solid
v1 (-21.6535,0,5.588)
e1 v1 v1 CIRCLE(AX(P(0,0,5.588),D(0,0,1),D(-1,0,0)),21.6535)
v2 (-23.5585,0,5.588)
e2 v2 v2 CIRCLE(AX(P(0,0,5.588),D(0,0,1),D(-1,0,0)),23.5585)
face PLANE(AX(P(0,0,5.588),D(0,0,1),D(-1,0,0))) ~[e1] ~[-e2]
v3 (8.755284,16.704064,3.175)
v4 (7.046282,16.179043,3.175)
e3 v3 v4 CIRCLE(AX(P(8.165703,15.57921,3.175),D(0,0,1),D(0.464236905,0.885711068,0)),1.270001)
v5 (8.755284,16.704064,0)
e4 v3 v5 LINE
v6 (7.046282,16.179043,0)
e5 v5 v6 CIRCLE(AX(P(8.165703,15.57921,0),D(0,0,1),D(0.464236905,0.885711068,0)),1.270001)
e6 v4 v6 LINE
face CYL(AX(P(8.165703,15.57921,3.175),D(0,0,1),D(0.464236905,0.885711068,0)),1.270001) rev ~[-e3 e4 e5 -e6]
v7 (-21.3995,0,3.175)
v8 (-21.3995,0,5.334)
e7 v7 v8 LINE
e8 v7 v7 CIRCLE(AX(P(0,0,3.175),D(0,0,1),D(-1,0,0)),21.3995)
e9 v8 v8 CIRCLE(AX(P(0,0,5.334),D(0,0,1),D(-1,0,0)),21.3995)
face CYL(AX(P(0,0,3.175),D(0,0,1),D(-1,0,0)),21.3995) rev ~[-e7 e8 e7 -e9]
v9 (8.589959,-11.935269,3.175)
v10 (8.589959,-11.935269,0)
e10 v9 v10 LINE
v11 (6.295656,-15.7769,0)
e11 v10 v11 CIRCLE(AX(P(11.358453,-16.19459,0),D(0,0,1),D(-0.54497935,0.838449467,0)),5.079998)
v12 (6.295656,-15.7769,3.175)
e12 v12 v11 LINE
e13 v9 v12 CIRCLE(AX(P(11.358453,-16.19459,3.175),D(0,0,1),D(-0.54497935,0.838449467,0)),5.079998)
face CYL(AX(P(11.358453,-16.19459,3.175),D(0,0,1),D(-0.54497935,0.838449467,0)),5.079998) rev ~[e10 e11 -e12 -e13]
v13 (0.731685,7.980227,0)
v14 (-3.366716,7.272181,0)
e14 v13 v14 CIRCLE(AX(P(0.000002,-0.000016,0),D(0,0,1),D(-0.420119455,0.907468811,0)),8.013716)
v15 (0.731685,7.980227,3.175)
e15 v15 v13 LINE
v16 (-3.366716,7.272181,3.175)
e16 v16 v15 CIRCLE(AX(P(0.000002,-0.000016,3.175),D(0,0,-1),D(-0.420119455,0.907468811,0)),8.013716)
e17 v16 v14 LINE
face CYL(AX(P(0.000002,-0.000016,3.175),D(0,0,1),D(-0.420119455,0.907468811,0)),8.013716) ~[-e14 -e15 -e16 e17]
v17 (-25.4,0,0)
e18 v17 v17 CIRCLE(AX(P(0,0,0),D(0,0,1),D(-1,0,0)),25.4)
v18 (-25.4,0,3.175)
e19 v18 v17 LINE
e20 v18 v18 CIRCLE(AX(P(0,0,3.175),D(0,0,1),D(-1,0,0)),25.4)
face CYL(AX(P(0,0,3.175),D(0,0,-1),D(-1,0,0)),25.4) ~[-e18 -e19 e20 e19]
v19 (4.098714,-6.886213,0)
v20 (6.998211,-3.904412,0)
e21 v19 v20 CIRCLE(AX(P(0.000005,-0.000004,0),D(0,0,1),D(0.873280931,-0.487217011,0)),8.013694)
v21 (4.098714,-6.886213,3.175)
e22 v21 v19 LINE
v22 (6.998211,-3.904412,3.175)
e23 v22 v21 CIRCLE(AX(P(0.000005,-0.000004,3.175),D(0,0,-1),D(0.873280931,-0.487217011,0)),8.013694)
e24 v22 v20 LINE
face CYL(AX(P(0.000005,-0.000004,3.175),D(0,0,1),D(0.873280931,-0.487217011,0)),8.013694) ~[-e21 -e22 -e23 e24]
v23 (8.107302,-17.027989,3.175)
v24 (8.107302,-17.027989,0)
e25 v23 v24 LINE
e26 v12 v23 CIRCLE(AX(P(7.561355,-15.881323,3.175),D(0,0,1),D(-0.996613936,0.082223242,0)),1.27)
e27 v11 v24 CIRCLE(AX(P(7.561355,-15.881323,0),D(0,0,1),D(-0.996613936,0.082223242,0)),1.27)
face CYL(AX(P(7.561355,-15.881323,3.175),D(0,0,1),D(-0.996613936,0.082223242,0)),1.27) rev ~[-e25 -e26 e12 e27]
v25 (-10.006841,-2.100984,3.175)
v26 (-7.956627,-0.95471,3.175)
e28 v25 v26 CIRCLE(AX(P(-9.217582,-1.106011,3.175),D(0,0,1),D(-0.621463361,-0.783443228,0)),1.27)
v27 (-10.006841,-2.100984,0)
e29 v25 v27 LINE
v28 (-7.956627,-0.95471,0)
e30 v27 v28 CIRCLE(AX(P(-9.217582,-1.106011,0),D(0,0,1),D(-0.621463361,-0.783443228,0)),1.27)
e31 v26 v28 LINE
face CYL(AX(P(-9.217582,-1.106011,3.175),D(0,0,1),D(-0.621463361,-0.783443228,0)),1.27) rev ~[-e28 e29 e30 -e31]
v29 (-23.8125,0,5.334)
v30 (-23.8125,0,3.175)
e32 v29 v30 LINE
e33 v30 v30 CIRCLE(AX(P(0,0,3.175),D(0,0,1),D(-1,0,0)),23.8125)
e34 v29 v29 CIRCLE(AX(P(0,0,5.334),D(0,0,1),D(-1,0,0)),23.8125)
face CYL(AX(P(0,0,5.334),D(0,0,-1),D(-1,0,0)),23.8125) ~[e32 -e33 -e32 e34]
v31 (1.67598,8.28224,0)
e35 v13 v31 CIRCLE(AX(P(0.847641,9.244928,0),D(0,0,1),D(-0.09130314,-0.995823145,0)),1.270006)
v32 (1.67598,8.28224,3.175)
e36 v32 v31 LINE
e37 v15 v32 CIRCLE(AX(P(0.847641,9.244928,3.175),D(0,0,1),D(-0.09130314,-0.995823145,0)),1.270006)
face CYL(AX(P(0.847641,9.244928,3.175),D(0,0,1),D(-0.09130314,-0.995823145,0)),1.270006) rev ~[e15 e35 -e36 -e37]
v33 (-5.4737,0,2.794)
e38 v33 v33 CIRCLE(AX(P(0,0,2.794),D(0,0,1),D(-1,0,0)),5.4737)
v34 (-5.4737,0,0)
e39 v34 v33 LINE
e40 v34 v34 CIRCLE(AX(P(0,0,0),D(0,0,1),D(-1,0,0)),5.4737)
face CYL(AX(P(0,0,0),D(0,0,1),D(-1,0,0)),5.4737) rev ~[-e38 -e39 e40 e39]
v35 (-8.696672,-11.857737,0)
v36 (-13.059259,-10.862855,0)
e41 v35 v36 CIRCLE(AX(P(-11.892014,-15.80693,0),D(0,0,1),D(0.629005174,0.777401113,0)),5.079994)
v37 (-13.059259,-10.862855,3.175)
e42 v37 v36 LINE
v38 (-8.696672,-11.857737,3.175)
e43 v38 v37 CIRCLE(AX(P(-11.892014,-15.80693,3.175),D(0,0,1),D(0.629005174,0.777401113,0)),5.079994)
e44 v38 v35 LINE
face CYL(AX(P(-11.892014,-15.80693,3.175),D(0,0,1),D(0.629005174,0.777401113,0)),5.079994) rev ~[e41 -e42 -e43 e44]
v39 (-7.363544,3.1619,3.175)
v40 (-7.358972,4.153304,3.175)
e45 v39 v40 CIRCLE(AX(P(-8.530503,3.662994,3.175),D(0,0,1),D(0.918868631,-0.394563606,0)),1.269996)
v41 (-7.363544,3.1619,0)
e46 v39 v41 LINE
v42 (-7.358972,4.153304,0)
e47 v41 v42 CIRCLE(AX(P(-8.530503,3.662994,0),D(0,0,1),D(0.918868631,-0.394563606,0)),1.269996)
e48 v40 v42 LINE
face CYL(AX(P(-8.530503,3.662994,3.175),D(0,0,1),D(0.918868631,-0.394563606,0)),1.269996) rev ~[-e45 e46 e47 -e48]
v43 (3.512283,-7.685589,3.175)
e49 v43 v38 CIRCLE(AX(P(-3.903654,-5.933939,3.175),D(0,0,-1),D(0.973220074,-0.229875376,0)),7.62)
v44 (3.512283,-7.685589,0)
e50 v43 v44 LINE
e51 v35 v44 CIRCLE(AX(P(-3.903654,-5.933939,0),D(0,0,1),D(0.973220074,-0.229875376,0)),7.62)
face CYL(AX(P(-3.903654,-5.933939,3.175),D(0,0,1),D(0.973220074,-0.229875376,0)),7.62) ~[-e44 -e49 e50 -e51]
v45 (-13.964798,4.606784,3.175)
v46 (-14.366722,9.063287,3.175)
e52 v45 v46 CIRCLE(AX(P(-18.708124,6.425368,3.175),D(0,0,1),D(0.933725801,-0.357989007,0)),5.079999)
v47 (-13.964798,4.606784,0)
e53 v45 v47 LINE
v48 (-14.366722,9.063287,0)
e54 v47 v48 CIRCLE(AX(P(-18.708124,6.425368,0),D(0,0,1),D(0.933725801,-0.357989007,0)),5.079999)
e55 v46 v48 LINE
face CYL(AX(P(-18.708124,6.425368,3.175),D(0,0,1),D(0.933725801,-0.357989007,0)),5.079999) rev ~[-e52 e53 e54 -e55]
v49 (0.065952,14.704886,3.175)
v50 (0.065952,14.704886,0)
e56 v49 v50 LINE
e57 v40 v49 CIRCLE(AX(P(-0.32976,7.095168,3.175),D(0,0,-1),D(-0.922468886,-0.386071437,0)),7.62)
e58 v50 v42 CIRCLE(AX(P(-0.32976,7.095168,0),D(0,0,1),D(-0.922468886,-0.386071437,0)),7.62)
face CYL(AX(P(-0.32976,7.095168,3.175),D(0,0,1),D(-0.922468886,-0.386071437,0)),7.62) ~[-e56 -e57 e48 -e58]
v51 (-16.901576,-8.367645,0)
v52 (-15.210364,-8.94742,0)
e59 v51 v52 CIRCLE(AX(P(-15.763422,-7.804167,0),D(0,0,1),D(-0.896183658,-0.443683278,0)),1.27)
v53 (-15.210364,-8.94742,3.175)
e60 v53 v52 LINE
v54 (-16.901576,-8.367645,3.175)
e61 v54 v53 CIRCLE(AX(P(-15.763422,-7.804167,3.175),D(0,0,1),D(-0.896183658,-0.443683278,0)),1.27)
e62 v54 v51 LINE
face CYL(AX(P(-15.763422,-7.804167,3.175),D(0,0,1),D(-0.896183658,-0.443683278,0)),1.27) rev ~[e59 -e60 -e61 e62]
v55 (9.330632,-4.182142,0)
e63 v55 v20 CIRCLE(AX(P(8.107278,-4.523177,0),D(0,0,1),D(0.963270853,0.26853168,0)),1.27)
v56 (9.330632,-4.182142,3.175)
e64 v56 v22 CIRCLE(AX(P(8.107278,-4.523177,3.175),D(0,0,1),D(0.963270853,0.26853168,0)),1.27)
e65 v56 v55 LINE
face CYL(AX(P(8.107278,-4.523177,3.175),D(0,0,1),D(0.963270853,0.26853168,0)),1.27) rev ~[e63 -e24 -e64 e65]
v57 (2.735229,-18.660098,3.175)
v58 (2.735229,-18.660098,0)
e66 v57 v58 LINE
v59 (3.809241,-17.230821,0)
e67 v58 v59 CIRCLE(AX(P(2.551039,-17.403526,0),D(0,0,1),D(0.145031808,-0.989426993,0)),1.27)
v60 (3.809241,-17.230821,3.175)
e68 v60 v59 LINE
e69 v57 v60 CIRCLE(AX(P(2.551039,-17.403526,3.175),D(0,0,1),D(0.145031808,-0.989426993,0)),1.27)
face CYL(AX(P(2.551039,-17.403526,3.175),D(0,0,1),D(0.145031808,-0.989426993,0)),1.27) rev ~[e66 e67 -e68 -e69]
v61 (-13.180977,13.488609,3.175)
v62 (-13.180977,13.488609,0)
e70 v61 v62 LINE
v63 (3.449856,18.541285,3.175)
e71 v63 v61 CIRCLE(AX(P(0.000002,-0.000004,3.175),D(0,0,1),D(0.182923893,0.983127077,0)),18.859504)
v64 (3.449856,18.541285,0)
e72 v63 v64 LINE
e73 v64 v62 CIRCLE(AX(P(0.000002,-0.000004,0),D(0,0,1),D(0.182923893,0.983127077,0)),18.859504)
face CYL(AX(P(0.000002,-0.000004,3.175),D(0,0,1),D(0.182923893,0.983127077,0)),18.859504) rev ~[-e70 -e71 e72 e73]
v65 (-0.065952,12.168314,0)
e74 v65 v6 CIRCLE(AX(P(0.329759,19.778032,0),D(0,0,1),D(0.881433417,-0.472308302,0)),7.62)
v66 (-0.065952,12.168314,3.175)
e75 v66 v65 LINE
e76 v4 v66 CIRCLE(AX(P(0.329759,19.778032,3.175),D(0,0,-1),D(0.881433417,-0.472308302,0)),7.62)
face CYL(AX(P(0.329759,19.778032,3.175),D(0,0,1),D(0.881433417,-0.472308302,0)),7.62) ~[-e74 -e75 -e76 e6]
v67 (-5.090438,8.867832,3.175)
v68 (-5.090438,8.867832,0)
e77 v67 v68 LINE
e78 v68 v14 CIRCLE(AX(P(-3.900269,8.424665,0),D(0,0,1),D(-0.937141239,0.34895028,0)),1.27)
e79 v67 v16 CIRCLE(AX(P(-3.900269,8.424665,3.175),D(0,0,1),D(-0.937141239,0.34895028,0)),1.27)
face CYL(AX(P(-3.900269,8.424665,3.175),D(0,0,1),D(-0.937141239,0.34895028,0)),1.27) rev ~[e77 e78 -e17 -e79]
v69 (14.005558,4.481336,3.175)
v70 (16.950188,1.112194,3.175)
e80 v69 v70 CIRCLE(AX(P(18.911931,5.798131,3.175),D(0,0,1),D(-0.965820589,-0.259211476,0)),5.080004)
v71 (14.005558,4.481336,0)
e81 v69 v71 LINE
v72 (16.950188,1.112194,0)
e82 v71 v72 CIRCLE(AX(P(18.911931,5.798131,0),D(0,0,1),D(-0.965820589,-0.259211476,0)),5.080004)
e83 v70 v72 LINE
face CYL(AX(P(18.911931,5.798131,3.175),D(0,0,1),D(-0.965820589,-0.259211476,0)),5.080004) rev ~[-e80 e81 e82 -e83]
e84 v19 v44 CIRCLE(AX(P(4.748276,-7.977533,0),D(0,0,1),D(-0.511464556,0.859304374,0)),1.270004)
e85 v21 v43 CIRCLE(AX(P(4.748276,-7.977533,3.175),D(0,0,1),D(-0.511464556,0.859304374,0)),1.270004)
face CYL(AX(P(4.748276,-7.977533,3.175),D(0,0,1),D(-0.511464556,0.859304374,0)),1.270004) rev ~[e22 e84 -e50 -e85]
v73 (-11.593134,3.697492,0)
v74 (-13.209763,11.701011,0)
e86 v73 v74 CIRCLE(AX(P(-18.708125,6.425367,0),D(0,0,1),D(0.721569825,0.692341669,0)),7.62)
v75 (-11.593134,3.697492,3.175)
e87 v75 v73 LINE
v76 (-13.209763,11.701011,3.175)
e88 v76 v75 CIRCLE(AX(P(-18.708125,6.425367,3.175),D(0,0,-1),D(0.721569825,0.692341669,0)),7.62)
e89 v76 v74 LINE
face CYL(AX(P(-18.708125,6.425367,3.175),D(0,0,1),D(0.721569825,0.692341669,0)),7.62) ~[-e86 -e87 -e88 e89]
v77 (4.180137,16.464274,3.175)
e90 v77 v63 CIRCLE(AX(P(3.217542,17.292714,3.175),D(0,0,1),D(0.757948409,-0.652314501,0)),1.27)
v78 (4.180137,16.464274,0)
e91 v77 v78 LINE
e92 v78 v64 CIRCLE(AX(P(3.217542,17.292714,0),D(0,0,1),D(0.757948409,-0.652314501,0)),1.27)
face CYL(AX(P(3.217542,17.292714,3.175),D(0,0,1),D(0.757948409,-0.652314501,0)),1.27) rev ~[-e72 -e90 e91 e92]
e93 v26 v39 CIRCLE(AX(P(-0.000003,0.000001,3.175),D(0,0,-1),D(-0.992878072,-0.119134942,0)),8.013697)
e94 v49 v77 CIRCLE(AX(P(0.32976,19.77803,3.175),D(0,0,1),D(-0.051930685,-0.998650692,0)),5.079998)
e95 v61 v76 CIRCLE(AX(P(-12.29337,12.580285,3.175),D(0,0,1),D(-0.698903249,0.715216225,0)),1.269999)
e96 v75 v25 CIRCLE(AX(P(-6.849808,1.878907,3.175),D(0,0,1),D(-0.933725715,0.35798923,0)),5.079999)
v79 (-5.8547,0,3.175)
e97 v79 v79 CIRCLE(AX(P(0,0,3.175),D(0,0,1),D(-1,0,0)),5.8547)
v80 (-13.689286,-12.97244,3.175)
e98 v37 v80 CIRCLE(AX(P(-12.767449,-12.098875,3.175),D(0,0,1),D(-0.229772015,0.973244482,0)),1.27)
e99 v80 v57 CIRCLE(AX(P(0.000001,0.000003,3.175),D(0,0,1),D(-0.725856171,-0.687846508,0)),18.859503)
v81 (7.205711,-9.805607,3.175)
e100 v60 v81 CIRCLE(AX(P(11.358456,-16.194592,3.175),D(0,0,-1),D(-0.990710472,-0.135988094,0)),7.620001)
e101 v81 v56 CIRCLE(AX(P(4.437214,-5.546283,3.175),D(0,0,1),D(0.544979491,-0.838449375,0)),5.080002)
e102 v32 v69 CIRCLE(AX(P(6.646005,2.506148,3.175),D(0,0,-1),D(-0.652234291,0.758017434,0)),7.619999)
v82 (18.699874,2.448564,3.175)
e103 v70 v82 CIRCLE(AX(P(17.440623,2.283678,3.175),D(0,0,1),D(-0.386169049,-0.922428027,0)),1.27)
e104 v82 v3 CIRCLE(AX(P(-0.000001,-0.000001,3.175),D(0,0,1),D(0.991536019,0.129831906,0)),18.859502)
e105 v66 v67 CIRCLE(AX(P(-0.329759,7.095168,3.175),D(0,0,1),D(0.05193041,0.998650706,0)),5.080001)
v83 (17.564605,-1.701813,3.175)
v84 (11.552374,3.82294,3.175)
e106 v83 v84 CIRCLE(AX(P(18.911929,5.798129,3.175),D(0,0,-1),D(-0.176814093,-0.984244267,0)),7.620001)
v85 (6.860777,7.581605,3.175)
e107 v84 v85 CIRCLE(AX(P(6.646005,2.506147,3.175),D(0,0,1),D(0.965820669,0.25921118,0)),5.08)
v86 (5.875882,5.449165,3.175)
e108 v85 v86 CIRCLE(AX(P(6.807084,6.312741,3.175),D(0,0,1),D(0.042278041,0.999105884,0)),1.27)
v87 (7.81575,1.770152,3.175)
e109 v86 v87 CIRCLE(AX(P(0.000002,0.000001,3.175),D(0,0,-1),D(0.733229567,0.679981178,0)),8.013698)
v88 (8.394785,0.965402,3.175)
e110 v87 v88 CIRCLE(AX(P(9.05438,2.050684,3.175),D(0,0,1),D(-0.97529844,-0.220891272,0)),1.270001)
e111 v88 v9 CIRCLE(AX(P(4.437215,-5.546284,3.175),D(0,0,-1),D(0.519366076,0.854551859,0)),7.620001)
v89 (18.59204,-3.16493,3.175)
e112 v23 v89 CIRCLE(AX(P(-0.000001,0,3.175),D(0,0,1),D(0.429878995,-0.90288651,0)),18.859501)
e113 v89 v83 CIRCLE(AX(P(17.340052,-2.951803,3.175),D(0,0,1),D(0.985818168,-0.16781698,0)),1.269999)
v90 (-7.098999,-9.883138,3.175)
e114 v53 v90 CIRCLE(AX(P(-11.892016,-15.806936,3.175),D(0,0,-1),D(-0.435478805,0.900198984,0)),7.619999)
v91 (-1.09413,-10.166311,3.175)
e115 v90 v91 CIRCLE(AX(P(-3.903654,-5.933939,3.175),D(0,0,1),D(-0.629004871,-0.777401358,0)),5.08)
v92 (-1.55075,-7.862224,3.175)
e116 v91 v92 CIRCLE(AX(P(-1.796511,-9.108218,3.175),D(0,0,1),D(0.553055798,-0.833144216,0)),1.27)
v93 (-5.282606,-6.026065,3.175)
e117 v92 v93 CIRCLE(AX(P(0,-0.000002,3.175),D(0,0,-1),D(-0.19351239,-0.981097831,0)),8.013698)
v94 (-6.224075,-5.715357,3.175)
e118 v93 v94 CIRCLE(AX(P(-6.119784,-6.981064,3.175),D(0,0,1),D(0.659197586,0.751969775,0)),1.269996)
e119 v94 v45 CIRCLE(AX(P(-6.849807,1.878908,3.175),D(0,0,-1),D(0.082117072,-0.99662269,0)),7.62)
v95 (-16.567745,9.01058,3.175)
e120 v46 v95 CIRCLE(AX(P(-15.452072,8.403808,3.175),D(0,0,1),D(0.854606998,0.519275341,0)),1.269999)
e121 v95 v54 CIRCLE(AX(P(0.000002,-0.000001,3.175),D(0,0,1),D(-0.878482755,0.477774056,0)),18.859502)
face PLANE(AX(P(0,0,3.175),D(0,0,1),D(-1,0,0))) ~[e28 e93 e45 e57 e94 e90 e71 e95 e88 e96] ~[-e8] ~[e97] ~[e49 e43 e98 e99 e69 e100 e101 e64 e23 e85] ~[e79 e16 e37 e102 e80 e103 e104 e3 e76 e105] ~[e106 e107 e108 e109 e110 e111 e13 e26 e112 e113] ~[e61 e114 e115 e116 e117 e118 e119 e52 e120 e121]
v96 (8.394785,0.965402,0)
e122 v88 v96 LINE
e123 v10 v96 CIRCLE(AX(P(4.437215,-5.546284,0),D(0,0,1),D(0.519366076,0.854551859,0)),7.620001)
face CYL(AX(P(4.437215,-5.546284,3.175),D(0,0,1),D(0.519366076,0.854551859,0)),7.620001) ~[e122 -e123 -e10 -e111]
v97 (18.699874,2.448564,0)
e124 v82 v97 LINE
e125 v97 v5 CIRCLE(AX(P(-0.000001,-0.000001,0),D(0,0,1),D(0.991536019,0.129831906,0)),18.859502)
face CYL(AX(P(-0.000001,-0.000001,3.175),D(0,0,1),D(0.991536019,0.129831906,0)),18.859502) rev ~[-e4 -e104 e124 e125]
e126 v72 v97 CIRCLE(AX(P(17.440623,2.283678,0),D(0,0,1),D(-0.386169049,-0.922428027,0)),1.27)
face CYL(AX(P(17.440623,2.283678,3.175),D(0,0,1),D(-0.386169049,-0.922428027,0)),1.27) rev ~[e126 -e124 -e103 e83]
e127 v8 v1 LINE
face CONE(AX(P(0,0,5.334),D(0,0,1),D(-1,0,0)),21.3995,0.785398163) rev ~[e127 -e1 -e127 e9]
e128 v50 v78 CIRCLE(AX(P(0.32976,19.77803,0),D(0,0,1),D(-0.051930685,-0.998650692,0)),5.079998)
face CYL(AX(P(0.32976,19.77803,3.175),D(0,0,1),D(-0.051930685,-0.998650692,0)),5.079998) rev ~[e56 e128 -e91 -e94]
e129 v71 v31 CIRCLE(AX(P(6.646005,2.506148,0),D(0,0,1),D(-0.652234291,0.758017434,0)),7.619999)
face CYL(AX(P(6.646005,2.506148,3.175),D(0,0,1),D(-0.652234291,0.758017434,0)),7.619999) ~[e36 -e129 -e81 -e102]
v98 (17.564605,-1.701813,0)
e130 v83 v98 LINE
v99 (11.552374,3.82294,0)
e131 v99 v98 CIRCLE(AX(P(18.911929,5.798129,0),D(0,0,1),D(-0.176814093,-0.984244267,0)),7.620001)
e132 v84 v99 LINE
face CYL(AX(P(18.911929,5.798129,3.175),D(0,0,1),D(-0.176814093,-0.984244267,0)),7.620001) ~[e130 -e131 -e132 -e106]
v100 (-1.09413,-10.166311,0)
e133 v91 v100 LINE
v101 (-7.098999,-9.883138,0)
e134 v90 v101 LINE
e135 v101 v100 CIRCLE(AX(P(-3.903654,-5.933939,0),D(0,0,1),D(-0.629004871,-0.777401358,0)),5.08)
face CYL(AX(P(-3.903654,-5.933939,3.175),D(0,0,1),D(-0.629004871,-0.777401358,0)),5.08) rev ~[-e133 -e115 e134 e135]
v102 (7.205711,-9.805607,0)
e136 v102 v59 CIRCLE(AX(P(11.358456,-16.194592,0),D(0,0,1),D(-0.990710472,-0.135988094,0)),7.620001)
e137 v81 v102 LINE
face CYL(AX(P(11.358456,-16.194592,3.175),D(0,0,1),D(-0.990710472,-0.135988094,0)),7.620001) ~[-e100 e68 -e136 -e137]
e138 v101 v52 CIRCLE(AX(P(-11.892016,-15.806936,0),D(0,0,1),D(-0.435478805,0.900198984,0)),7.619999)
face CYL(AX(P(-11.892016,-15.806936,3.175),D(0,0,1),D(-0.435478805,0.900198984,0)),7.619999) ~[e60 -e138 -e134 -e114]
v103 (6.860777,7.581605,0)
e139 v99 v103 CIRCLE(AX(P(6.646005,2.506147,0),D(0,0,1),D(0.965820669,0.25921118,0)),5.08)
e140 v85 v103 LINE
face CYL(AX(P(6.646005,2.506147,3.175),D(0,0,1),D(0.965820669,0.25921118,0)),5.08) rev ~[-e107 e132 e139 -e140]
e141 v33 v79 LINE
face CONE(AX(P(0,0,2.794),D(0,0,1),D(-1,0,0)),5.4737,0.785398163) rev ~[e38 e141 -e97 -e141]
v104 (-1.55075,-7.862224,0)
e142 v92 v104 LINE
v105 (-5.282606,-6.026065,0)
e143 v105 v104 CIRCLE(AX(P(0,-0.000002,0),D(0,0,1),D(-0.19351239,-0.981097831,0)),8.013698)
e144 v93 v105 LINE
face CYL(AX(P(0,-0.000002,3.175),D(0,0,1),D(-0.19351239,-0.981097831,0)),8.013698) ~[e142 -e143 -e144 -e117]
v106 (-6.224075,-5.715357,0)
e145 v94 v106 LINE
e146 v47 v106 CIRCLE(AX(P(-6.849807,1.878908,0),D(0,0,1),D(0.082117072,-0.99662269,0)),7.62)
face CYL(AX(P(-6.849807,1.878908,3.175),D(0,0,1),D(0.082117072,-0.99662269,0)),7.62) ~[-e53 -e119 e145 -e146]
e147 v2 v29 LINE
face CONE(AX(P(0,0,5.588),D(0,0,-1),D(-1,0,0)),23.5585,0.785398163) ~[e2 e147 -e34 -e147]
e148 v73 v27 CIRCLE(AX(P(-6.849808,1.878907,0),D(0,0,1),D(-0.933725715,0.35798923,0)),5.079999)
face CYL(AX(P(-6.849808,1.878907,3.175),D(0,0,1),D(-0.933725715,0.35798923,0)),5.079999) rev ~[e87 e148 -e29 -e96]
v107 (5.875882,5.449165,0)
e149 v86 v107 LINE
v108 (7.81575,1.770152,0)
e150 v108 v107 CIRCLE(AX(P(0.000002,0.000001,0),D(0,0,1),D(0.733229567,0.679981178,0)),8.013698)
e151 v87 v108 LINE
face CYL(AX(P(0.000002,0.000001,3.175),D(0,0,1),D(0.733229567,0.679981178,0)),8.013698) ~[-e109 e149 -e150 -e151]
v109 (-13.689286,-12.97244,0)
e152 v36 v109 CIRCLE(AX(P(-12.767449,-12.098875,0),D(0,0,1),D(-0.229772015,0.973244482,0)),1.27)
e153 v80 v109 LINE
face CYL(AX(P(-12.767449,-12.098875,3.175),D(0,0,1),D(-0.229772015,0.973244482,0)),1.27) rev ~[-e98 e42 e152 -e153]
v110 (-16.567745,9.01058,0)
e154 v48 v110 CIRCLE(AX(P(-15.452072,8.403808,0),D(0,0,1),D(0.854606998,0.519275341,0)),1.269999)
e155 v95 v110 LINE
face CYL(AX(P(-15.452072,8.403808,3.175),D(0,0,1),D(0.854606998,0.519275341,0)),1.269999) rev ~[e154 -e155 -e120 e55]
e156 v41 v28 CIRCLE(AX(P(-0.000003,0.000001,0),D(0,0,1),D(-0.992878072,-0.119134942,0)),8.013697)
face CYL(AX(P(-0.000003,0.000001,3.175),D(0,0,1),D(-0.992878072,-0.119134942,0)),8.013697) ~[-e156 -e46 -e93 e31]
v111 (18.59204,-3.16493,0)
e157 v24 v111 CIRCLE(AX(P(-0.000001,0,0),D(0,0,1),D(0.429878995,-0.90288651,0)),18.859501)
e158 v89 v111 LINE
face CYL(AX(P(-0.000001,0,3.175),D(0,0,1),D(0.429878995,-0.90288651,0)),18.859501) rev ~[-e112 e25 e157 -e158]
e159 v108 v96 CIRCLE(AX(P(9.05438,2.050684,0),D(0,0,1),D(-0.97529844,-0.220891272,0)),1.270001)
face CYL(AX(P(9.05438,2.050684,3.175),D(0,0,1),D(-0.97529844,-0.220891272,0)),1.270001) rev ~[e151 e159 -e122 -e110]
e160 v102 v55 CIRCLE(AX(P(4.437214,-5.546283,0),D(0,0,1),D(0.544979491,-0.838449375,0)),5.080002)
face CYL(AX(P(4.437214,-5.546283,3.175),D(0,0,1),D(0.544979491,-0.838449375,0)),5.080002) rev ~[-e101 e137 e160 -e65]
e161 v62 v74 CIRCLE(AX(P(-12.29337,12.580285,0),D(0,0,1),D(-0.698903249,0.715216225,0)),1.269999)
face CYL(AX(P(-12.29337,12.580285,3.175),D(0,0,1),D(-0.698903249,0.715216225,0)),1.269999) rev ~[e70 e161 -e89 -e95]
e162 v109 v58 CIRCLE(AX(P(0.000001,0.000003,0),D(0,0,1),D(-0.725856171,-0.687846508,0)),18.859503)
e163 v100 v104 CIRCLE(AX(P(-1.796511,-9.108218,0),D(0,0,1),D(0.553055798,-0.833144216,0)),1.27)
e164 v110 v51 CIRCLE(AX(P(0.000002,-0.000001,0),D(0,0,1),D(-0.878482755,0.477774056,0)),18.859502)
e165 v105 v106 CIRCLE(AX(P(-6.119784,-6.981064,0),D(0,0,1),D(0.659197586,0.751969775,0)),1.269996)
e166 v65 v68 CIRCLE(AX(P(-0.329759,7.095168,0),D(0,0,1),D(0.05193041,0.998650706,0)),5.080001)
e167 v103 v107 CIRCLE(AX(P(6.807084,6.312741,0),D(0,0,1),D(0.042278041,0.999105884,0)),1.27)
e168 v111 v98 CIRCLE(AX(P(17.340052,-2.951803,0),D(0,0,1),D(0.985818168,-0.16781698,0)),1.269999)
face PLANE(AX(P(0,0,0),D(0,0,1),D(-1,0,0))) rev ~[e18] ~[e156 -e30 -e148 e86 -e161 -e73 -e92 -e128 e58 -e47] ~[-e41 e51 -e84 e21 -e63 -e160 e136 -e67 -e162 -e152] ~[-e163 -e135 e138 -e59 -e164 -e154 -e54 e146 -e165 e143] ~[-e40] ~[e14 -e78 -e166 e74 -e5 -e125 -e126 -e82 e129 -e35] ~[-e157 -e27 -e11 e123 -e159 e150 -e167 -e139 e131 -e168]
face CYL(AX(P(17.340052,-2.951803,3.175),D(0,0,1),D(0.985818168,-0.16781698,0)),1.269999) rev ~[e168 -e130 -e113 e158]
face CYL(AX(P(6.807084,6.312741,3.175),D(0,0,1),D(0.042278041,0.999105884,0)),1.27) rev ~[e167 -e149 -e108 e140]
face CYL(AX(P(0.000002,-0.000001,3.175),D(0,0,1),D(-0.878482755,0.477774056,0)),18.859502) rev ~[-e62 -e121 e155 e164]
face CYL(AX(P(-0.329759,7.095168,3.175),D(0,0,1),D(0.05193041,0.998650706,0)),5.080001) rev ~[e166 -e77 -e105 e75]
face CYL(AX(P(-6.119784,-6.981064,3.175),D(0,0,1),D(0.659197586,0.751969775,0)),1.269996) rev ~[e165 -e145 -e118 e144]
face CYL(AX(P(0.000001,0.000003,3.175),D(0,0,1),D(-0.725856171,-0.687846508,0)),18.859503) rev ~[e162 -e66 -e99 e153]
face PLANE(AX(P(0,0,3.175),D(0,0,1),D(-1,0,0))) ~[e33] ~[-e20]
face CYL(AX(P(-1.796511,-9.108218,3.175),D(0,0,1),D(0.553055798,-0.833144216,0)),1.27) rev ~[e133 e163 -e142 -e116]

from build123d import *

# Parameters (mm, degrees)
F3_DEPTH = 25.4


with BuildPart() as f1:
    # F0 (on Front) → F1 (revolve)
    with BuildSketch(Plane.XZ):
        Polygon((-25.4, 0), (-5.4737, 0), (-5.4737, 2.794), (-5.8547, 3.175), (-21.3995, 3.175), (-21.3995, 5.334), (-21.6535, 5.588), (-23.5585, 5.588), (-23.8125, 5.334), (-23.8125, 3.175), (-25.4, 3.175), align=None)
    revolve(axis=Axis((0, 0, 7.17671), (0, 0, 1)))

    # F2 (on face) → F3 (cut)
    with BuildSketch(Plane.XY.offset(3.175)):
        with BuildLine():
            ThreePointArc((-7.956627, -0.95471), (-7.931805, 1.142742), (-7.363544, 3.1619))
            ThreePointArc((-7.363544, 3.1619), (-7.260521, 3.657138), (-7.358972, 4.153304))
            ThreePointArc((-7.358972, 4.153304), (-6.561517, 11.480324), (0.065952, 14.704886))
            ThreePointArc((0.065952, 14.704886), (2.327191, 15.1072), (4.180137, 16.464274))
            ThreePointArc((4.180137, 16.464274), (4.415643, 17.713968), (3.449856, 18.541285))
            ThreePointArc((3.449856, 18.541285), (-5.482341, 18.045073), (-13.180977, 13.488609))
            ThreePointArc((-13.180977, 13.488609), (-13.563205, 12.600734), (-13.209763, 11.701011))
            ThreePointArc((-13.209763, 11.701011), (-11.238972, 7.93406), (-11.593134, 3.697492))
            ThreePointArc((-11.593134, 3.697492), (-11.749757, 0.538425), (-10.006841, -2.100984))
            ThreePointArc((-10.006841, -2.100984), (-8.597816, -2.214519), (-7.956627, -0.95471))
        make_face()
        with BuildLine():
            ThreePointArc((-1.55075, -7.862224), (-3.537875, -7.190468), (-5.282606, -6.026065))
            ThreePointArc((-5.282606, -6.026065), (-5.721769, -5.775048), (-6.224075, -5.715357))
            ThreePointArc((-6.224075, -5.715357), (-12.946057, -2.692759), (-13.964798, 4.606784))
            ThreePointArc((-13.964798, 4.606784), (-13.64866, 6.881671), (-14.366722, 9.063287))
            ThreePointArc((-14.366722, 9.063287), (-15.482476, 9.673443), (-16.567745, 9.01058))
            ThreePointArc((-16.567745, 9.01058), (-18.856021, 0.362218), (-16.901576, -8.367645))
            ThreePointArc((-16.901576, -8.367645), (-16.17527, -9.005534), (-15.210364, -8.94742))
            ThreePointArc((-15.210364, -8.94742), (-11.018773, -8.237138), (-7.098999, -9.883138))
            ThreePointArc((-7.098999, -9.883138), (-4.142947, -11.0083), (-1.09413, -10.166311))
            ThreePointArc((-1.09413, -10.166311), (-0.550739, -8.861333), (-1.55075, -7.862224))
        make_face()
        with BuildLine():
            ThreePointArc((-3.366716, 7.272181), (-1.36425, 7.896721), (0.731685, 7.980227))
            ThreePointArc((0.731685, 7.980227), (1.23452, 8.035284), (1.67598, 8.28224))
            ThreePointArc((1.67598, 8.28224), (8.890816, 9.787989), (14.005558, 4.481336))
            ThreePointArc((14.005558, 4.481336), (15.086943, 2.455092), (16.950188, 1.112194))
            ThreePointArc((16.950188, 1.112194), (18.211493, 1.274391), (18.699874, 2.448564))
            ThreePointArc((18.699874, 2.448564), (15.467748, 10.790251), (8.755284, 16.704064))
            ThreePointArc((8.755284, 16.704064), (7.792749, 16.793215), (7.046282, 16.179043))
            ThreePointArc((7.046282, 16.179043), (4.072706, 13.140657), (-0.065952, 12.168314))
            ThreePointArc((-0.065952, 12.168314), (-3.118802, 11.341065), (-5.090438, 8.867832))
            ThreePointArc((-5.090438, 8.867832), (-4.763004, 7.492685), (-3.366716, 7.272181))
        make_face()
        with BuildLine():
            ThreePointArc((5.875882, 5.449165), (7.088652, 3.7377), (7.81575, 1.770152))
            ThreePointArc((7.81575, 1.770152), (8.023497, 1.308941), (8.394785, 0.965402))
            ThreePointArc((8.394785, 0.965402), (12.056344, -5.431014), (8.589959, -11.935269))
            ThreePointArc((8.589959, -11.935269), (6.997053, -13.58987), (6.295656, -15.7769))
            ThreePointArc((6.295656, -15.7769), (6.839679, -16.926351), (8.107302, -17.027989))
            ThreePointArc((8.107302, -17.027989), (15.041935, -11.376332), (18.59204, -3.16493))
            ThreePointArc((18.59204, -3.16493), (18.379389, -2.221956), (17.564605, -1.701813))
            ThreePointArc((17.564605, -1.701813), (13.756043, 0.187313), (11.552374, 3.82294))
            ThreePointArc((11.552374, 3.82294), (9.822231, 6.470739), (6.860777, 7.581605))
            ThreePointArc((6.860777, 7.581605), (5.654118, 6.845253), (5.875882, 5.449165))
        make_face()
        with BuildLine():
            ThreePointArc((6.998211, -3.904412), (5.745278, -5.586696), (4.098714, -6.886213))
            ThreePointArc((4.098714, -6.886213), (3.724274, -7.226314), (3.512283, -7.685589))
            ThreePointArc((3.512283, -7.685589), (-1.439586, -13.14454), (-8.696672, -11.857737))
            ThreePointArc((-8.696672, -11.857737), (-10.762526, -10.854093), (-13.059259, -10.862855))
            ThreePointArc((-13.059259, -10.862855), (-13.984339, -11.735451), (-13.689286, -12.97244))
            ThreePointArc((-13.689286, -12.97244), (-6.171321, -17.82121), (2.735229, -18.660098))
            ThreePointArc((2.735229, -18.660098), (3.566338, -18.166459), (3.809241, -17.230821))
            ThreePointArc((3.809241, -17.230821), (4.428996, -13.024891), (7.205711, -9.805607))
            ThreePointArc((7.205711, -9.805607), (9.189274, -7.341929), (9.330632, -4.182142))
            ThreePointArc((9.330632, -4.182142), (8.257441, -3.262086), (6.998211, -3.904412))
        make_face()
    extrude(amount=-F3_DEPTH, mode=Mode.SUBTRACT)


solid = f1.part
